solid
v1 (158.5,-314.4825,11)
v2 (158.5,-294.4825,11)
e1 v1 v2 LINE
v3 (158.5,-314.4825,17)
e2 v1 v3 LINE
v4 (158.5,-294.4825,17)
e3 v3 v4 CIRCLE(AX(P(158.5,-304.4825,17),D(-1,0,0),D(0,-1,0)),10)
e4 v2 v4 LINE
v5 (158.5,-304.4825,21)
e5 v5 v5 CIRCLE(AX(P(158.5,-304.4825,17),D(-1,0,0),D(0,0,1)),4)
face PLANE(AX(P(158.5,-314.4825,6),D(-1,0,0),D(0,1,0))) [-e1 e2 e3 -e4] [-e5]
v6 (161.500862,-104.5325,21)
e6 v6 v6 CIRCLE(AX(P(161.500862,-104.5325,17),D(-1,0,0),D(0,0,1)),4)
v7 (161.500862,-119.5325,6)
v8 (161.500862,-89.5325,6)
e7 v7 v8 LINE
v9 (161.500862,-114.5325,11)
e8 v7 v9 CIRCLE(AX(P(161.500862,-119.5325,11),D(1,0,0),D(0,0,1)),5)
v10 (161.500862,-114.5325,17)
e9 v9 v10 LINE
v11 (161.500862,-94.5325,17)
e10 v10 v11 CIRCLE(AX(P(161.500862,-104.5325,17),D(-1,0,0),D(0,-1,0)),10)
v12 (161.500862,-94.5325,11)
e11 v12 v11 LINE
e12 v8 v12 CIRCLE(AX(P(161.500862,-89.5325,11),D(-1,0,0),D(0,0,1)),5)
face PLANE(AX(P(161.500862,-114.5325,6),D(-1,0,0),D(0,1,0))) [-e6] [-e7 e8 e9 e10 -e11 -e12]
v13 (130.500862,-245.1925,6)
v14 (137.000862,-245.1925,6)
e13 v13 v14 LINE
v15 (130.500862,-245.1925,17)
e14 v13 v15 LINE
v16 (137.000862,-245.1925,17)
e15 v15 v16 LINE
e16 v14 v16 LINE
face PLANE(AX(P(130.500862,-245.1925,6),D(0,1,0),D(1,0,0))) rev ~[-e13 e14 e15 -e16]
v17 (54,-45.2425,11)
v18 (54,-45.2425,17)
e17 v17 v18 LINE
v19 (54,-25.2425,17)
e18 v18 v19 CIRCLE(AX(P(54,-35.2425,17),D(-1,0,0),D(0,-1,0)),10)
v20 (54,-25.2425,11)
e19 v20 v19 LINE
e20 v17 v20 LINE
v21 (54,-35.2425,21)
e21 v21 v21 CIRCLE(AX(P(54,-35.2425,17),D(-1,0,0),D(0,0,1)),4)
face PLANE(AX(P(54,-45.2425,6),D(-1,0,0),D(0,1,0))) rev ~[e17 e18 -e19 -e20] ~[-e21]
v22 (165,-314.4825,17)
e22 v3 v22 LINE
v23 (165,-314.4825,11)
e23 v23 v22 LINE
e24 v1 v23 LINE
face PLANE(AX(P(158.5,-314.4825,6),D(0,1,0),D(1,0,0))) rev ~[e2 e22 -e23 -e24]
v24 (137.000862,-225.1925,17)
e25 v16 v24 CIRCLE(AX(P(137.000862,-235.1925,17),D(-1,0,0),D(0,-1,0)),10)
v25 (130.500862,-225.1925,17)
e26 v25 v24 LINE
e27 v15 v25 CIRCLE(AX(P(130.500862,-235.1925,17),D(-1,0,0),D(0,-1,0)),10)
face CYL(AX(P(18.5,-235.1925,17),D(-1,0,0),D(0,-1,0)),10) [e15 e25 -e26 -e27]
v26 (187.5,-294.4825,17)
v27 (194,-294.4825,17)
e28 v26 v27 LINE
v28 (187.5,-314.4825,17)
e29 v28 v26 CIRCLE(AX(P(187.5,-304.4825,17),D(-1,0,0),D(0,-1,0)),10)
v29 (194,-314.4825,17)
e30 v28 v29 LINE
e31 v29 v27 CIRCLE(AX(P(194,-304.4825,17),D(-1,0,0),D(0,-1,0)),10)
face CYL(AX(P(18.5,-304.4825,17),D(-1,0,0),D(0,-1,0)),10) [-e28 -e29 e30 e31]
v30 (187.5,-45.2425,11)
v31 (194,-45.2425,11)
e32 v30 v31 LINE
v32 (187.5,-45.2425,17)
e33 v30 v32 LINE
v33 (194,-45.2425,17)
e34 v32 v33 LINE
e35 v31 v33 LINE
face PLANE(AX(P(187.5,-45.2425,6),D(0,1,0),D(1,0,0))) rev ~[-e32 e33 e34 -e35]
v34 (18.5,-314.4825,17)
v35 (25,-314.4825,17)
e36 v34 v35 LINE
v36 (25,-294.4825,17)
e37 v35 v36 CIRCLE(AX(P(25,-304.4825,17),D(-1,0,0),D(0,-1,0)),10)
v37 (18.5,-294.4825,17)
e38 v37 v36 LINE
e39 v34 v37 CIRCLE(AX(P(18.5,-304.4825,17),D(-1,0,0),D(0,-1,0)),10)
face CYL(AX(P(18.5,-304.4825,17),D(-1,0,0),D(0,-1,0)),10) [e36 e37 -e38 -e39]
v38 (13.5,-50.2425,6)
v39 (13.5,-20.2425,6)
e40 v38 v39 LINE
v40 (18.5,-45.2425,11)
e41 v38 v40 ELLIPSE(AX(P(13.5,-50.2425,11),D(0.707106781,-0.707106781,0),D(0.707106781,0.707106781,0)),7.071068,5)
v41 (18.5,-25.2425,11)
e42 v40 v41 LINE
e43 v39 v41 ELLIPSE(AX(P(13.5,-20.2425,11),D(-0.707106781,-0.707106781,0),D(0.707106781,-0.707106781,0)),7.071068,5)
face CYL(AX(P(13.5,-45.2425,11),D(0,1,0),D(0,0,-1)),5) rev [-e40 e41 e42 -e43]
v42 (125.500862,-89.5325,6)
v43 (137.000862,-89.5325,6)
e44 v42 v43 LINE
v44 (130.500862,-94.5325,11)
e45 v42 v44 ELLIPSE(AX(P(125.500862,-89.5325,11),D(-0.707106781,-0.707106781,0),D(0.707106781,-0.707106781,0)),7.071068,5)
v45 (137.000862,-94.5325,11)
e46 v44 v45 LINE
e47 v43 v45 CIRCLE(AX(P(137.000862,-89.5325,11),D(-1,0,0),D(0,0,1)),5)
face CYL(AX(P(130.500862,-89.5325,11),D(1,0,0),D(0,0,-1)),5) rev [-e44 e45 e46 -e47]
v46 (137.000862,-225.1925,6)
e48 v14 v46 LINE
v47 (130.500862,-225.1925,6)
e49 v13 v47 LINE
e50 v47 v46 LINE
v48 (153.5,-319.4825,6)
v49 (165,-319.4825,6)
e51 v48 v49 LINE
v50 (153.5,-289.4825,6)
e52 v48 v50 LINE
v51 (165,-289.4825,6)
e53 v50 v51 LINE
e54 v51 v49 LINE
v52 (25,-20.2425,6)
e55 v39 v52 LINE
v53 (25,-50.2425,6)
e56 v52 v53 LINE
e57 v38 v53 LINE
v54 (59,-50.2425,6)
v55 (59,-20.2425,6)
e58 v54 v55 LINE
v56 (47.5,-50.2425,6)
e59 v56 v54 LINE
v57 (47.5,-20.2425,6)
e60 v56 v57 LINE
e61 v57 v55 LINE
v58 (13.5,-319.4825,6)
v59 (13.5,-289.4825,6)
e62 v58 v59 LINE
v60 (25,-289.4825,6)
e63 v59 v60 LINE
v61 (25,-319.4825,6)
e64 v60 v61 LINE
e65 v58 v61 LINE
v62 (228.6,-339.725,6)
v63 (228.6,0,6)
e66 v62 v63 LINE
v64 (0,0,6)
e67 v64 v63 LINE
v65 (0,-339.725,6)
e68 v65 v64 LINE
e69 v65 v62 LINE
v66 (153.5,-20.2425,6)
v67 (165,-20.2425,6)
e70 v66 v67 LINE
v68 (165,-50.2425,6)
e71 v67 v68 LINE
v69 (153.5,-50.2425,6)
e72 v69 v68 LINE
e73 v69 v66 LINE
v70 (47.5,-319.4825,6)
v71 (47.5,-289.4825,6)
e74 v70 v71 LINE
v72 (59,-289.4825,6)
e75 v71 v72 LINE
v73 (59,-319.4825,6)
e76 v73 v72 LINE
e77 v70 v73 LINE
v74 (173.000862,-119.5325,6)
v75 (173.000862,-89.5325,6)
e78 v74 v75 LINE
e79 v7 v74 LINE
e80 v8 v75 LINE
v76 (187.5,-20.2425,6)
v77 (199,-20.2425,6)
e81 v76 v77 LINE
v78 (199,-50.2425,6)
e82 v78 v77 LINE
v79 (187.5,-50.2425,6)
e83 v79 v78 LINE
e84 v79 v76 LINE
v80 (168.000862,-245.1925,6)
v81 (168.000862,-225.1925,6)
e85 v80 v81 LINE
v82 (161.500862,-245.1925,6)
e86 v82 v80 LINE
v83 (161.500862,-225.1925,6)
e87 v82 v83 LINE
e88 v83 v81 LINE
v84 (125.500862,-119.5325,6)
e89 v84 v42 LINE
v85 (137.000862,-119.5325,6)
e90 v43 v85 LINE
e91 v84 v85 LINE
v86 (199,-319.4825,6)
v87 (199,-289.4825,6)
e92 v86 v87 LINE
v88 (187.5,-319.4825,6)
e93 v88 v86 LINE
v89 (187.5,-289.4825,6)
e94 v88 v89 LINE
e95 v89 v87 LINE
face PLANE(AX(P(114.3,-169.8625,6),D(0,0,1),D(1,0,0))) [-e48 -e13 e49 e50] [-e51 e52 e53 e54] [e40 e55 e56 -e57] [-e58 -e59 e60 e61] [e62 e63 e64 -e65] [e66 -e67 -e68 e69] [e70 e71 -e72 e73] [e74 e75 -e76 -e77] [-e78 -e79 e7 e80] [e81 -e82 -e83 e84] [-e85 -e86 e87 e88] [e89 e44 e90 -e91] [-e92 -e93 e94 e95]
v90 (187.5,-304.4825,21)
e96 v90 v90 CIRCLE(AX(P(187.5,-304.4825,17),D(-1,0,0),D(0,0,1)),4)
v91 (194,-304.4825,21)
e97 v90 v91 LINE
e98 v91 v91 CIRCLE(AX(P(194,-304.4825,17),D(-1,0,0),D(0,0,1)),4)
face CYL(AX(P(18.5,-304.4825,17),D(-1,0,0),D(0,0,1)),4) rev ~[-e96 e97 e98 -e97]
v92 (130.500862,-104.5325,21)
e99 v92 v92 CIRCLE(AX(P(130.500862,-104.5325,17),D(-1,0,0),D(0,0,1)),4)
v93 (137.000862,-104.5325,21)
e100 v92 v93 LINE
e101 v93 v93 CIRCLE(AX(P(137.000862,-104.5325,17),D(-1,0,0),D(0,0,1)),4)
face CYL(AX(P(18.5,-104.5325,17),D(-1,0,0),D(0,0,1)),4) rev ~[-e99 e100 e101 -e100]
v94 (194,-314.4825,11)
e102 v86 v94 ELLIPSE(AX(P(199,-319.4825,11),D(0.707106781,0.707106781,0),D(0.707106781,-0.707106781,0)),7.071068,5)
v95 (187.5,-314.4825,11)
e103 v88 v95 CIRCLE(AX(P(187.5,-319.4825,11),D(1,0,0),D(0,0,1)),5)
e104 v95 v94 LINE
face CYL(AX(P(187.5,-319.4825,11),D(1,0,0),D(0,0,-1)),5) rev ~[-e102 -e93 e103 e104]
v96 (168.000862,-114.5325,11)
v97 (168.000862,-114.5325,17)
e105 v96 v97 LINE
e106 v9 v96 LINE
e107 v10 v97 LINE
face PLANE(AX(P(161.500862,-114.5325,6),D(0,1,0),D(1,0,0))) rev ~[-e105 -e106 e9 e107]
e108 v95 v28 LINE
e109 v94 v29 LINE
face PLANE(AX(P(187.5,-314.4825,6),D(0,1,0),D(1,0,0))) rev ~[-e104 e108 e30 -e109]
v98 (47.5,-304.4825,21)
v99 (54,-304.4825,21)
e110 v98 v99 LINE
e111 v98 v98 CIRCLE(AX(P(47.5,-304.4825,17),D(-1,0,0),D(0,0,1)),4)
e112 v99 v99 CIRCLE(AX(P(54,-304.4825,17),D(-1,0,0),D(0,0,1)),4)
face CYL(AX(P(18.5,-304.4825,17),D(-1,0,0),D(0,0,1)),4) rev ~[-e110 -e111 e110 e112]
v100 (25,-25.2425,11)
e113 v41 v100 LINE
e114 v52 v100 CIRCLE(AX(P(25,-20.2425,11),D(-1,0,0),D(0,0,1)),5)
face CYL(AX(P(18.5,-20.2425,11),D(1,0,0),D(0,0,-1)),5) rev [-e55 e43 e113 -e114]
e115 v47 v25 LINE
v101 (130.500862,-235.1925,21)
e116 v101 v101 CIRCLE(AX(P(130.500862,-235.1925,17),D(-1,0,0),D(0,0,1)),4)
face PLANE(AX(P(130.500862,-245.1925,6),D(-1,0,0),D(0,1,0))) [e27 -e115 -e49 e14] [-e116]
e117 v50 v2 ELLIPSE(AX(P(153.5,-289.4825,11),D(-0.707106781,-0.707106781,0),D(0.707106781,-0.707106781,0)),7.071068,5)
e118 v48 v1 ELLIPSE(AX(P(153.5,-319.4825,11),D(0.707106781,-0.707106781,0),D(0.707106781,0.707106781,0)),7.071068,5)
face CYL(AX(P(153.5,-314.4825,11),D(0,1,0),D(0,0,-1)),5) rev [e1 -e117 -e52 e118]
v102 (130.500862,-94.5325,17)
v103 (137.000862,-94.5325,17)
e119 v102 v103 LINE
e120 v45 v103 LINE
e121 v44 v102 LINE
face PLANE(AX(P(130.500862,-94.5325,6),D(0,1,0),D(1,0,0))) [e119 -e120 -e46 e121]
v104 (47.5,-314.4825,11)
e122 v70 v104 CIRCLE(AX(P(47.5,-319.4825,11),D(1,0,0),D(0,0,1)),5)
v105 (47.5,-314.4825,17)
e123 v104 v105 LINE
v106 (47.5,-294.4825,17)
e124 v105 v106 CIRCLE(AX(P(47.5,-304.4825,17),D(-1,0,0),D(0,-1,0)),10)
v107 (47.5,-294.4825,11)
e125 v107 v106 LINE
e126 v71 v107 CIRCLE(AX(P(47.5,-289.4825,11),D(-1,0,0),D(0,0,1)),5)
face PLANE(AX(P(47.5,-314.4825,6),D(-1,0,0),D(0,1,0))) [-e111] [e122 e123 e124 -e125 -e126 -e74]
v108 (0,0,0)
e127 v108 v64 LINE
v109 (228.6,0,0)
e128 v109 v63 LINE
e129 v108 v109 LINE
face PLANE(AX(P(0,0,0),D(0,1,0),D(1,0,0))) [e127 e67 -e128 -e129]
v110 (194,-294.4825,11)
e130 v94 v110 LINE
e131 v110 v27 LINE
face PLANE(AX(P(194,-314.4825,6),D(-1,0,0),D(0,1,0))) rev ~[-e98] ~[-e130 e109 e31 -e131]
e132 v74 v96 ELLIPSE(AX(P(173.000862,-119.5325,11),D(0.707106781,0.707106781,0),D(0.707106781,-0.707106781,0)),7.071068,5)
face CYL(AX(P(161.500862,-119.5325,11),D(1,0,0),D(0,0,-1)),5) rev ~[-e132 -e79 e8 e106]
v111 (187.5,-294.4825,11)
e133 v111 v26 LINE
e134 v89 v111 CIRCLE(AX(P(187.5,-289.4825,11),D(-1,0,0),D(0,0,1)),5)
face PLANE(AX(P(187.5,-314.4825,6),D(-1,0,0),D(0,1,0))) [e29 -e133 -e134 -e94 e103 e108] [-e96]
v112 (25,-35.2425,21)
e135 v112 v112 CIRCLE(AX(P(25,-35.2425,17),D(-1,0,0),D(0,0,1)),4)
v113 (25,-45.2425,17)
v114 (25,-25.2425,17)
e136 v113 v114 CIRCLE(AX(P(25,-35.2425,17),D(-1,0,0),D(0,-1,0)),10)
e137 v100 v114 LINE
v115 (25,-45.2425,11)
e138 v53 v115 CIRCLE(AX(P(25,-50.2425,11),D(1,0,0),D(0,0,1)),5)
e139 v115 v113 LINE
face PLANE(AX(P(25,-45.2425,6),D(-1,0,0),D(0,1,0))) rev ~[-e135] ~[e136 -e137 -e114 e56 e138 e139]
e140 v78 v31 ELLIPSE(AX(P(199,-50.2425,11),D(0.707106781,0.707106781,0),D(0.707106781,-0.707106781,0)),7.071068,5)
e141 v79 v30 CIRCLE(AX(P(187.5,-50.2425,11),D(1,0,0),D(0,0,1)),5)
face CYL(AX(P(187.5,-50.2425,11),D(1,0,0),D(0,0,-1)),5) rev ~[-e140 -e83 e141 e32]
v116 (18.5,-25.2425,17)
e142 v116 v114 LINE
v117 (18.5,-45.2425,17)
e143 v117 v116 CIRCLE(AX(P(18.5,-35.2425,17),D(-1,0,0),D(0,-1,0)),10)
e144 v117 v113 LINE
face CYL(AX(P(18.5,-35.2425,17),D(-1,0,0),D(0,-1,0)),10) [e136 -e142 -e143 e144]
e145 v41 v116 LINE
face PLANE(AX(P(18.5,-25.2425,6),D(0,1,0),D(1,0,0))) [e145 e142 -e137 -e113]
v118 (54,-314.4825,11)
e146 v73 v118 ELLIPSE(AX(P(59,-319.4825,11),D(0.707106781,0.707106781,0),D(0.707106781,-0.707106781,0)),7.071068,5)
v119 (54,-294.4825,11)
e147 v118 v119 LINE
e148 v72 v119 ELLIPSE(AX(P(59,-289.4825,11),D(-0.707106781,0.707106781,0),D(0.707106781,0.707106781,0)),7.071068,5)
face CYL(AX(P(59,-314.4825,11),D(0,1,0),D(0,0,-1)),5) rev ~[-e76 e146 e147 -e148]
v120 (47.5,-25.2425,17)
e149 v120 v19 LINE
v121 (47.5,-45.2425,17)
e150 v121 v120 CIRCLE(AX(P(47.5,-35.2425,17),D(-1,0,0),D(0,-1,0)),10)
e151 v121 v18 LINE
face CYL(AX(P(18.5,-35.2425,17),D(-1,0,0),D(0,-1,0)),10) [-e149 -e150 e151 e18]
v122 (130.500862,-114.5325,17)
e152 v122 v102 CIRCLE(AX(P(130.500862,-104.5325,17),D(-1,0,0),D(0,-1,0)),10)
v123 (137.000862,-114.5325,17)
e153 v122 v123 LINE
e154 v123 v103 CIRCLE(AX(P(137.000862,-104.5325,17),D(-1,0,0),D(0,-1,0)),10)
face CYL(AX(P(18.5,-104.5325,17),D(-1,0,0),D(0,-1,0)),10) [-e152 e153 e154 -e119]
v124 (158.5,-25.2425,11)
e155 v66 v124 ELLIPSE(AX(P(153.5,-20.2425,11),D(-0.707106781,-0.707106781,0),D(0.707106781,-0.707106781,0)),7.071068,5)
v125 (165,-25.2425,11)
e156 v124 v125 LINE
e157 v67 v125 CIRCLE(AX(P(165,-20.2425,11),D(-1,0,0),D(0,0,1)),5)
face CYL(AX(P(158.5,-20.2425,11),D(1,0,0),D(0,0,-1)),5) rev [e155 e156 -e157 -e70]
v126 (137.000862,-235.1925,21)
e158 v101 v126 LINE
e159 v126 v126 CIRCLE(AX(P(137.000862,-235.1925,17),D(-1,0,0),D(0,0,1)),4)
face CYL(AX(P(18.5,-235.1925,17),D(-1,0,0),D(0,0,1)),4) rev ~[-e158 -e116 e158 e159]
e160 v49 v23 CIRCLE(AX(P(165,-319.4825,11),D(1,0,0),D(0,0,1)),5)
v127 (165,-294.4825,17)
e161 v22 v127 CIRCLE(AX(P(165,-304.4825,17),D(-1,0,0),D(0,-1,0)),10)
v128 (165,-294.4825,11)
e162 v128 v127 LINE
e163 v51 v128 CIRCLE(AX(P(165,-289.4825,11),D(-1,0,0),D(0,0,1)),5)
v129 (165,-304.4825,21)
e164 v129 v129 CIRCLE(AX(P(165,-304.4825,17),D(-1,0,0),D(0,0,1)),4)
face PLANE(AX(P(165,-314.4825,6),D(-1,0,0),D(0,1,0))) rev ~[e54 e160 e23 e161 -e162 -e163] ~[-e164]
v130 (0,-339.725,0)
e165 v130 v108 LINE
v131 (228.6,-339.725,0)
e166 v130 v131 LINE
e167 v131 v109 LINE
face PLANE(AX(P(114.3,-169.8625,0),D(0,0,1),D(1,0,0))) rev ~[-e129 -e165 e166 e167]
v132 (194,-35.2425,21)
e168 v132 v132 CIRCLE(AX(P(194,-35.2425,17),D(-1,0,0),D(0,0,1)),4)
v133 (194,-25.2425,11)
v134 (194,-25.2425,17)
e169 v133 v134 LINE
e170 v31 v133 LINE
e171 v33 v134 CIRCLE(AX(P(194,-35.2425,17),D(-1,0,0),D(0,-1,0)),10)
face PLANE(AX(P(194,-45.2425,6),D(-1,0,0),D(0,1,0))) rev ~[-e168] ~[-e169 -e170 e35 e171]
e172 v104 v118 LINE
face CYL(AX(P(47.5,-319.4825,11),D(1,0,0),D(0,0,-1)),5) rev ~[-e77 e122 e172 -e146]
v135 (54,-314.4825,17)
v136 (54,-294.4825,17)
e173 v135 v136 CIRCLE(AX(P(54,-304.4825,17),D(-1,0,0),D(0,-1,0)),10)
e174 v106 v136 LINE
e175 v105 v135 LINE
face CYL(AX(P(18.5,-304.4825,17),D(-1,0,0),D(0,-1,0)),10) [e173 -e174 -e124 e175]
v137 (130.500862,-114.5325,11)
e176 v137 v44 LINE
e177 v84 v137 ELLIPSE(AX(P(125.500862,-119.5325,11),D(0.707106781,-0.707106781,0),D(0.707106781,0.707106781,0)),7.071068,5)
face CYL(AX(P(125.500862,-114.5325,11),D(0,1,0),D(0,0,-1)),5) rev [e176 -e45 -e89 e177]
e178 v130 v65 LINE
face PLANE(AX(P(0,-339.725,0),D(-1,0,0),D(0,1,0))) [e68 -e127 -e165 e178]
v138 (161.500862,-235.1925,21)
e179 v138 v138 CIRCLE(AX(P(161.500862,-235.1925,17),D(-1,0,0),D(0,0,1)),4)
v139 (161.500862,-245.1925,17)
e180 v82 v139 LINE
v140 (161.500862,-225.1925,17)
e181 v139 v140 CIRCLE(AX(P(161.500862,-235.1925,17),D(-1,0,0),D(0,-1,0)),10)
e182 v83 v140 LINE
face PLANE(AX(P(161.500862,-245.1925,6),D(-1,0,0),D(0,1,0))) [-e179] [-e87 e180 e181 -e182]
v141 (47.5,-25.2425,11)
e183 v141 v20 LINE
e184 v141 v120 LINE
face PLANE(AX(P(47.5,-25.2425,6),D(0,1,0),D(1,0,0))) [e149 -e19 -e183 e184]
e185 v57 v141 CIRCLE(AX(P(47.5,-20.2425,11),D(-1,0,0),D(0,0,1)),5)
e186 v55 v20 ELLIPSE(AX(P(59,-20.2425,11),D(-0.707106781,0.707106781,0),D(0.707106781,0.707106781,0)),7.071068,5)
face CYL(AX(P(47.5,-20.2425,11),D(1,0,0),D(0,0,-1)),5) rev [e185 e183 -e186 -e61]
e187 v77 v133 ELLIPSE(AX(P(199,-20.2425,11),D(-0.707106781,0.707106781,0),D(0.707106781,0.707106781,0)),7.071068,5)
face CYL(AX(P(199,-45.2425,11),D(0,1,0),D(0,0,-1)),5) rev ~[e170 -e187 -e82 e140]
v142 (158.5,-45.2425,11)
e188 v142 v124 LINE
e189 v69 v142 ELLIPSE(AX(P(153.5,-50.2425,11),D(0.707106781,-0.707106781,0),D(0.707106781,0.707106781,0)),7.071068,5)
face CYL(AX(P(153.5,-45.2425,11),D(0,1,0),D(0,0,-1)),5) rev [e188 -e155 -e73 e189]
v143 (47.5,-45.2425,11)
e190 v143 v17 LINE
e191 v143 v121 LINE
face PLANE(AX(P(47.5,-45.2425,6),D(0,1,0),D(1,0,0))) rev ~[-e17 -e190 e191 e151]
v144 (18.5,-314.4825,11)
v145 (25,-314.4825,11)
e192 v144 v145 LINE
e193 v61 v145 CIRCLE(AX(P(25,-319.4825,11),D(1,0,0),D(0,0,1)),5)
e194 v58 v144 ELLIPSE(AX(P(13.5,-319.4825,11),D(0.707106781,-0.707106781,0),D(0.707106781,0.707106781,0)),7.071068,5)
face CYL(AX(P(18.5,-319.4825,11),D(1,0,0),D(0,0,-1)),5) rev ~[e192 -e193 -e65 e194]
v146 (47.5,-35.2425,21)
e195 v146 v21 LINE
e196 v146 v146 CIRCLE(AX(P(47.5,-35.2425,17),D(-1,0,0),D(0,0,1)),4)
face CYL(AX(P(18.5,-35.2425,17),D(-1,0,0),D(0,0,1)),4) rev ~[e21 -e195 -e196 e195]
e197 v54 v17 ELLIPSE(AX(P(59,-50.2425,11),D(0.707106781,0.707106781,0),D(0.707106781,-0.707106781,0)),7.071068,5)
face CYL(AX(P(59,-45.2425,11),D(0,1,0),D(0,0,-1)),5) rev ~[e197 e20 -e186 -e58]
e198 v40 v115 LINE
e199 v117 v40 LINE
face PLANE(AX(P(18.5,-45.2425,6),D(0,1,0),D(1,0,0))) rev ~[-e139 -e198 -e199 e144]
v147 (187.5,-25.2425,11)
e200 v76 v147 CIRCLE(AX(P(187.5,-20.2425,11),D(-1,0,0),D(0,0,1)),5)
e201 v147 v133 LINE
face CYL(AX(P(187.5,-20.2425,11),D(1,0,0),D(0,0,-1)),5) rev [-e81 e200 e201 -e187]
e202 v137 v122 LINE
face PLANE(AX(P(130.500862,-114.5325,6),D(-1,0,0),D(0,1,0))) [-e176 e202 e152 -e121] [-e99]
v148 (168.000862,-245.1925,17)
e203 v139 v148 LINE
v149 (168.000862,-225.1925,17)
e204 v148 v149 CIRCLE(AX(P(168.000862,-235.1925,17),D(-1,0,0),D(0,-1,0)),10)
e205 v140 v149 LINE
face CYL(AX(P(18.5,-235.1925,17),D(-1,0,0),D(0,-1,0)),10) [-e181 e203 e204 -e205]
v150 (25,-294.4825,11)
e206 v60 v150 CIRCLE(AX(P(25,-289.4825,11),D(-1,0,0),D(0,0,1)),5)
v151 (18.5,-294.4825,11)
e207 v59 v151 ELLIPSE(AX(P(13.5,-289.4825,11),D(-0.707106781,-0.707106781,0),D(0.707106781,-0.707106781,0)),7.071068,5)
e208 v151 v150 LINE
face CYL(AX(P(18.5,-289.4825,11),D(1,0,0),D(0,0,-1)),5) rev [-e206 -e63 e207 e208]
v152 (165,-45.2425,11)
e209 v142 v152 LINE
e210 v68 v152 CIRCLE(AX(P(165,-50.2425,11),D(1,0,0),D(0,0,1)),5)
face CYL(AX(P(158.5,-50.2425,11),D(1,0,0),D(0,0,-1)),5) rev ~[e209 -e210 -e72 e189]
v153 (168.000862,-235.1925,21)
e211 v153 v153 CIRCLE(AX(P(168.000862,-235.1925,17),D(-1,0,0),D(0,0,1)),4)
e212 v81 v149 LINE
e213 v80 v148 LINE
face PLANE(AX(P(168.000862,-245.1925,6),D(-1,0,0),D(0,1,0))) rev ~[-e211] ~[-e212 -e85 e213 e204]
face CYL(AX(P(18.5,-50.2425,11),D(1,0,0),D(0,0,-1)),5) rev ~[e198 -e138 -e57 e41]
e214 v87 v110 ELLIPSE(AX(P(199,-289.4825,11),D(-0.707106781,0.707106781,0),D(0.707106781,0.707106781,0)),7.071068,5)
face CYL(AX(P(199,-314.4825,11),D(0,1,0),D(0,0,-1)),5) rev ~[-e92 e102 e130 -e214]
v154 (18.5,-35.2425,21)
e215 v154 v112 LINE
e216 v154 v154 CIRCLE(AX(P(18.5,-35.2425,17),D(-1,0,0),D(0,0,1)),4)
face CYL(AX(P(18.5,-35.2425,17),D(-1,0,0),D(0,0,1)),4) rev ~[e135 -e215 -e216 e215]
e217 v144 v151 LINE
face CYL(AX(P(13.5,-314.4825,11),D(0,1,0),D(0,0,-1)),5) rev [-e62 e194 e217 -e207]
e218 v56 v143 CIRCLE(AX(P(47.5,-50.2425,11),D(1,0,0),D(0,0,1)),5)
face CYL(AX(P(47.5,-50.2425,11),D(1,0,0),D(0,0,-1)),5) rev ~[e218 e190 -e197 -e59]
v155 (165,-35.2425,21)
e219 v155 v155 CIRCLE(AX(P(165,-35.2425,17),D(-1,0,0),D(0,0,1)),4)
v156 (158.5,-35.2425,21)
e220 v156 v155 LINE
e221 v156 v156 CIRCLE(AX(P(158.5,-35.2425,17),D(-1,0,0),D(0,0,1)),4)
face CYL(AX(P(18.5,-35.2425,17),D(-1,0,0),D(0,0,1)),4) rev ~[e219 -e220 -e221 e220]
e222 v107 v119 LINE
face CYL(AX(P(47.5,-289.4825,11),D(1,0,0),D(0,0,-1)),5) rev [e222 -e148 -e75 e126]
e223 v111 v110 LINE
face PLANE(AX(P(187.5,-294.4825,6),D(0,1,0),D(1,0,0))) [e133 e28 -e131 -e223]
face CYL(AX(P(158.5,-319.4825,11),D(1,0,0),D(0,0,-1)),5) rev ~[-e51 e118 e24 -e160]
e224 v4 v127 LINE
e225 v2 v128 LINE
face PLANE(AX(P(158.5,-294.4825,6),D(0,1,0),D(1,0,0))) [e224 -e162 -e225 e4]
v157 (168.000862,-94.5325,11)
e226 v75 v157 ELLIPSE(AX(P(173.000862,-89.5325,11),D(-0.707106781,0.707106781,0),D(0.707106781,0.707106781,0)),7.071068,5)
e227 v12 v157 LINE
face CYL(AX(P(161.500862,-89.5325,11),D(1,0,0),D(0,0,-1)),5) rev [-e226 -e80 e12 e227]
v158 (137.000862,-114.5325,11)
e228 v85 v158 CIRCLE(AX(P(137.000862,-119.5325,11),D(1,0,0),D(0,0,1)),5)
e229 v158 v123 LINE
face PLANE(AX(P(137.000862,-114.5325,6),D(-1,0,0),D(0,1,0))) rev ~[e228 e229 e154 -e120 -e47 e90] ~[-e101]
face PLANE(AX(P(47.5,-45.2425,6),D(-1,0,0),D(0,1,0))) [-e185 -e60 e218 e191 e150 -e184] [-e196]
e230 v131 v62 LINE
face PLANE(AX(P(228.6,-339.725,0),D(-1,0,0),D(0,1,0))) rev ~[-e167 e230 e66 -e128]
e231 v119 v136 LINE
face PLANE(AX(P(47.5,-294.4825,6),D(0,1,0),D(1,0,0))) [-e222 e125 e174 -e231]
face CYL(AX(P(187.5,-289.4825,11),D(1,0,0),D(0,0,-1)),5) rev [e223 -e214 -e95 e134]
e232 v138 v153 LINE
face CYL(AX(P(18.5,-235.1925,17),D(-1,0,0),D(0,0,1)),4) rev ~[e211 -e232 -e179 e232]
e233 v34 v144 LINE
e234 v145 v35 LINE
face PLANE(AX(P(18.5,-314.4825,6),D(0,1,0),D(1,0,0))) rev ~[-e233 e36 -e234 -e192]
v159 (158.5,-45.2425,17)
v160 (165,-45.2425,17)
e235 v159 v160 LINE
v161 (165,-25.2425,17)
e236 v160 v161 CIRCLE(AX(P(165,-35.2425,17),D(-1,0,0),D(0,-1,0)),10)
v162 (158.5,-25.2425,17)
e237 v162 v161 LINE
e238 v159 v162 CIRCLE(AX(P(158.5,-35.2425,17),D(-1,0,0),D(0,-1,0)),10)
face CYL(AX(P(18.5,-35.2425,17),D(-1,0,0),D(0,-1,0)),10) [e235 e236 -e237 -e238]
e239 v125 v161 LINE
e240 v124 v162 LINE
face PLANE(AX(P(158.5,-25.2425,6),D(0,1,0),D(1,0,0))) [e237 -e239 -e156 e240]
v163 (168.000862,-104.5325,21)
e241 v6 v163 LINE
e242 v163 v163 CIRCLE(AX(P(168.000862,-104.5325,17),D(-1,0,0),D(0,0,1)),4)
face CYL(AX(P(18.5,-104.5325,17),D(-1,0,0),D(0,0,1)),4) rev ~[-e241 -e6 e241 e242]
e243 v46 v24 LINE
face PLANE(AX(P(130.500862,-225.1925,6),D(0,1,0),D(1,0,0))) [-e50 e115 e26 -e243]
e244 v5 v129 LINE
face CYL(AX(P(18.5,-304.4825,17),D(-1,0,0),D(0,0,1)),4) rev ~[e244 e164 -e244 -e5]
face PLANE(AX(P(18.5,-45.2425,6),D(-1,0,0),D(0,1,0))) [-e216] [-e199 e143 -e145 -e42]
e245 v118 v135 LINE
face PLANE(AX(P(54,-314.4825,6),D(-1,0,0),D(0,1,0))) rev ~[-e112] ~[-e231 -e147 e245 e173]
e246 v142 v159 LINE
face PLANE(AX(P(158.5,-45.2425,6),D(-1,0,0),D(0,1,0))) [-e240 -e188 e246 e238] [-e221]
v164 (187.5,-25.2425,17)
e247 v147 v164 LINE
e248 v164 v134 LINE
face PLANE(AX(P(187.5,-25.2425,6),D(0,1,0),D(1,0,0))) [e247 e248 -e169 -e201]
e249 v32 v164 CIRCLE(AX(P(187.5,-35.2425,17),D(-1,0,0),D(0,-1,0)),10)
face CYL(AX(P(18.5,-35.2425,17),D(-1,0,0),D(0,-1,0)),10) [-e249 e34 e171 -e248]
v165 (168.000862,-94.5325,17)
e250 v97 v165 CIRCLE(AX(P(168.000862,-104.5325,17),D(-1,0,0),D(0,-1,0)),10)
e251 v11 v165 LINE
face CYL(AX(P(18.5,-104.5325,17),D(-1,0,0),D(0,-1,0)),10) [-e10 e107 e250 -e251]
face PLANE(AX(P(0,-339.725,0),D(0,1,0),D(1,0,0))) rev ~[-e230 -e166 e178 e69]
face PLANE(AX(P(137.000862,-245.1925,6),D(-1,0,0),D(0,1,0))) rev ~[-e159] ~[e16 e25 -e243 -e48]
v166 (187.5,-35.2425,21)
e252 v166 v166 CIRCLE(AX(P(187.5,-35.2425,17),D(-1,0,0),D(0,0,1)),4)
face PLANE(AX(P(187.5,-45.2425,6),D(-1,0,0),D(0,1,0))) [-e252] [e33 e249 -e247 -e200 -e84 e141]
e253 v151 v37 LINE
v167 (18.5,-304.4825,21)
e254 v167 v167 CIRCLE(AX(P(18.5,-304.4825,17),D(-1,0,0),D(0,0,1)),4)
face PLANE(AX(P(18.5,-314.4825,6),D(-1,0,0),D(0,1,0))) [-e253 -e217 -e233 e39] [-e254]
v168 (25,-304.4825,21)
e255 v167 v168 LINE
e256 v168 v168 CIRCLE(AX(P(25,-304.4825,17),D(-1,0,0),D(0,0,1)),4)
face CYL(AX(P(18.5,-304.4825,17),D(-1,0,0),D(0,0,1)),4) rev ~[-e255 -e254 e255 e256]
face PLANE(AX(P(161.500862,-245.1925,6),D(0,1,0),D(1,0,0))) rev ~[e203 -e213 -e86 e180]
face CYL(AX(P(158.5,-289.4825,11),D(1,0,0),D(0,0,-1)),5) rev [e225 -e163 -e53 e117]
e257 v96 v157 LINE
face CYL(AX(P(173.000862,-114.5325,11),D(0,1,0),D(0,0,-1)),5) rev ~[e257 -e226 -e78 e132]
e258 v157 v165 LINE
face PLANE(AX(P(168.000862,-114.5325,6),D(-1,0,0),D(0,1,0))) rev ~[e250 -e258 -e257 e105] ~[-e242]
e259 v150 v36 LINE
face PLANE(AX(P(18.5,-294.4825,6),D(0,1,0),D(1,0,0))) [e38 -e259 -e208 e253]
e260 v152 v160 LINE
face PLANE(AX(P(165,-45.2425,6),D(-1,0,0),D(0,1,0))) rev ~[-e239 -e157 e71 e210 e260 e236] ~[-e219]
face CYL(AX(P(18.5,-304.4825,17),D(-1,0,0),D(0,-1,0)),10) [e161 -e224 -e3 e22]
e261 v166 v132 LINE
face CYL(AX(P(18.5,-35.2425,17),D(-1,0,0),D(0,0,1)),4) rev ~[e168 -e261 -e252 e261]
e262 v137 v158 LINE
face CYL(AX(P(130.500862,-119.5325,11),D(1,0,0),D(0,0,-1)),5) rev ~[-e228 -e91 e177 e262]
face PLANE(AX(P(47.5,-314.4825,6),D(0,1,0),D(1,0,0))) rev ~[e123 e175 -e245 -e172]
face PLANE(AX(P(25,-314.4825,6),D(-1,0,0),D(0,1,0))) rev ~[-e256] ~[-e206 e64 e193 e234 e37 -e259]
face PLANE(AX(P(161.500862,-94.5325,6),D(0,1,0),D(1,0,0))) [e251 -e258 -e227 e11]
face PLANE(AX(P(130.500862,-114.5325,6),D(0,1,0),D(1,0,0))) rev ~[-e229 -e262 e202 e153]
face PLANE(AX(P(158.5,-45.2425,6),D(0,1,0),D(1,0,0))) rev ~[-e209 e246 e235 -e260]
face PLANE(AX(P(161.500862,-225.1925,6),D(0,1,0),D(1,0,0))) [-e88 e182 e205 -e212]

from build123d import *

# Parameters (mm, degrees)
SKETCH1_W               = 228.6
SKETCH1_H               = 339.725
BOSS_EXTRUDE1_DEPTH     = 6
SKETCH2_W               = 6.5
SKETCH2_H               = 20
BOSS_EXTRUDE2_DEPTH     = 24
SKETCH3_R               = 4
CUT_EXTRUDE1_DEPTH      = 19.5
CUT_EXTRUDE1_DEPTH_BACK = 211.1
FILLET2_R               = 5


with BuildPart() as part:
    # Sketch1 → Boss-Extrude1 (new body)
    with BuildSketch(Plane.XY):
        with Locations((114.3, -169.8625)):
            Rectangle(SKETCH1_W, SKETCH1_H)
    extrude(amount=BOSS_EXTRUDE1_DEPTH)

    # Sketch2 → Boss-Extrude2 (add)
    with BuildSketch(Plane.XY.offset(6)):
        with Locations((21.75, -35.2425)):
            Rectangle(SKETCH2_W, SKETCH2_H)
        with Locations((50.75, -35.2425)):
            Rectangle(SKETCH2_W, SKETCH2_H)
        with Locations((190.75, -35.2425)):
            Rectangle(SKETCH2_W, SKETCH2_H)
        with Locations((161.75, -35.2425)):
            Rectangle(SKETCH2_W, SKETCH2_H)
        with Locations((133.75086248, -104.5325)):
            Rectangle(SKETCH2_W, SKETCH2_H)
        with Locations((164.75086248, -104.5325)):
            Rectangle(SKETCH2_W, SKETCH2_H)
        with Locations((164.75086248, -235.1925)):
            Rectangle(SKETCH2_W, SKETCH2_H)
        with Locations((21.75, -304.4825)):
            Rectangle(SKETCH2_W, SKETCH2_H)
        with Locations((50.75, -304.4825)):
            Rectangle(SKETCH2_W, SKETCH2_H)
        with Locations((190.75, -304.4825)):
            Rectangle(SKETCH2_W, SKETCH2_H)
        with Locations((161.75, -304.4825)):
            Rectangle(SKETCH2_W, SKETCH2_H)
        with Locations((133.75086248, -235.1925)):
            Rectangle(SKETCH2_W, SKETCH2_H)
    extrude(amount=BOSS_EXTRUDE2_DEPTH)

    # Sketch3 → Cut-Extrude1 (cut, two sides)
    with BuildSketch(Plane.ZY.offset(-18.5)) as cut_extrude1_sk:
        with Locations((17, -35.2425)):
            Circle(SKETCH3_R)
        with Locations((17, -235.1925)):
            Circle(SKETCH3_R)
        with Locations((17, -304.4825)):
            Circle(SKETCH3_R)
        with Locations((17, -104.5325)):
            Circle(SKETCH3_R)
        with BuildLine():
            Line((17, -25.2425), (17, -12.982943413))
            Line((17, -12.982943413), (50.949532367, -12.982943413))
            Line((50.949532367, -12.982943413), (50.949532367, -57.481006387))
            Line((50.949532367, -57.481006387), (17, -57.481006387))
            Line((17, -57.481006387), (17, -45.2425))
            ThreePointArc((17, -45.2425), (27, -35.2425), (17, -25.2425))
        make_face()
        with BuildLine():
            Line((51.442304634, -132.399123951), (17, -132.399123951))
            Line((17, -132.399123951), (17, -114.5325))
            ThreePointArc((17, -114.5325), (27, -104.5325), (17, -94.5325))
            Line((17, -94.5325), (17, -71.59149594))
            Line((17, -71.59149594), (51.442304634, -71.59149594))
            Line((51.442304634, -71.59149594), (51.442304634, -132.399123951))
        make_face()
        with BuildLine():
            Line((51.599532243, -270.375386727), (17, -270.375386727))
            Line((17, -270.375386727), (17, -245.1925))
            ThreePointArc((17, -245.1925), (27, -235.1925), (17, -225.1925))
            Line((17, -225.1925), (17, -207.306351849))
            Line((17, -207.306351849), (51.599532243, -207.306351849))
            Line((51.599532243, -207.306351849), (51.599532243, -270.375386727))
        make_face()
        with BuildLine():
            Line((51.621034016, -326.721115515), (17, -326.721115515))
            Line((17, -326.721115515), (17, -314.4825))
            ThreePointArc((17, -314.4825), (27, -304.4825), (17, -294.4825))
            Line((17, -294.4825), (17, -282.222834285))
            Line((17, -282.222834285), (51.621034016, -282.222834285))
            Line((51.621034016, -282.222834285), (51.621034016, -326.721115515))
        make_face()
    extrude(amount=CUT_EXTRUDE1_DEPTH, mode=Mode.SUBTRACT)
    extrude(cut_extrude1_sk.sketch, amount=-CUT_EXTRUDE1_DEPTH_BACK, mode=Mode.SUBTRACT)

    # Fillet2
    fillet2_edges = [part.edges().sort_by_distance(p)[0] for p in [
        (190.75, -45.2425, 6),
        (194, -35.2425, 6),
        (190.75, -25.2425, 6),
        (50.75, -45.2425, 6),
        (54, -35.2425, 6),
        (50.75, -25.2425, 6),
        (21.75, -25.2425, 6),
        (18.5, -35.2425, 6),
        (21.75, -45.2425, 6),
        (161.75, -25.2425, 6),
        (158.5, -35.2425, 6),
        (161.75, -45.2425, 6),
        (161.75, -294.4825, 6),
        (161.75, -314.4825, 6),
        (158.5, -304.4825, 6),
        (190.75, -314.4825, 6),
        (194, -304.4825, 6),
        (190.75, -294.4825, 6),
        (50.75, -314.4825, 6),
        (54, -304.4825, 6),
        (50.75, -294.4825, 6),
        (21.75, -294.4825, 6),
        (21.75, -314.4825, 6),
        (18.5, -304.4825, 6),
        (164.75086248, -114.5325, 6),
        (164.75086248, -94.5325, 6),
        (168.00086248, -104.5325, 6),
        (133.75086248, -94.5325, 6),
        (130.50086248, -104.5325, 6),
        (133.75086248, -114.5325, 6),
    ]]
    fillet(fillet2_edges, radius=FILLET2_R)


solid = part.part
